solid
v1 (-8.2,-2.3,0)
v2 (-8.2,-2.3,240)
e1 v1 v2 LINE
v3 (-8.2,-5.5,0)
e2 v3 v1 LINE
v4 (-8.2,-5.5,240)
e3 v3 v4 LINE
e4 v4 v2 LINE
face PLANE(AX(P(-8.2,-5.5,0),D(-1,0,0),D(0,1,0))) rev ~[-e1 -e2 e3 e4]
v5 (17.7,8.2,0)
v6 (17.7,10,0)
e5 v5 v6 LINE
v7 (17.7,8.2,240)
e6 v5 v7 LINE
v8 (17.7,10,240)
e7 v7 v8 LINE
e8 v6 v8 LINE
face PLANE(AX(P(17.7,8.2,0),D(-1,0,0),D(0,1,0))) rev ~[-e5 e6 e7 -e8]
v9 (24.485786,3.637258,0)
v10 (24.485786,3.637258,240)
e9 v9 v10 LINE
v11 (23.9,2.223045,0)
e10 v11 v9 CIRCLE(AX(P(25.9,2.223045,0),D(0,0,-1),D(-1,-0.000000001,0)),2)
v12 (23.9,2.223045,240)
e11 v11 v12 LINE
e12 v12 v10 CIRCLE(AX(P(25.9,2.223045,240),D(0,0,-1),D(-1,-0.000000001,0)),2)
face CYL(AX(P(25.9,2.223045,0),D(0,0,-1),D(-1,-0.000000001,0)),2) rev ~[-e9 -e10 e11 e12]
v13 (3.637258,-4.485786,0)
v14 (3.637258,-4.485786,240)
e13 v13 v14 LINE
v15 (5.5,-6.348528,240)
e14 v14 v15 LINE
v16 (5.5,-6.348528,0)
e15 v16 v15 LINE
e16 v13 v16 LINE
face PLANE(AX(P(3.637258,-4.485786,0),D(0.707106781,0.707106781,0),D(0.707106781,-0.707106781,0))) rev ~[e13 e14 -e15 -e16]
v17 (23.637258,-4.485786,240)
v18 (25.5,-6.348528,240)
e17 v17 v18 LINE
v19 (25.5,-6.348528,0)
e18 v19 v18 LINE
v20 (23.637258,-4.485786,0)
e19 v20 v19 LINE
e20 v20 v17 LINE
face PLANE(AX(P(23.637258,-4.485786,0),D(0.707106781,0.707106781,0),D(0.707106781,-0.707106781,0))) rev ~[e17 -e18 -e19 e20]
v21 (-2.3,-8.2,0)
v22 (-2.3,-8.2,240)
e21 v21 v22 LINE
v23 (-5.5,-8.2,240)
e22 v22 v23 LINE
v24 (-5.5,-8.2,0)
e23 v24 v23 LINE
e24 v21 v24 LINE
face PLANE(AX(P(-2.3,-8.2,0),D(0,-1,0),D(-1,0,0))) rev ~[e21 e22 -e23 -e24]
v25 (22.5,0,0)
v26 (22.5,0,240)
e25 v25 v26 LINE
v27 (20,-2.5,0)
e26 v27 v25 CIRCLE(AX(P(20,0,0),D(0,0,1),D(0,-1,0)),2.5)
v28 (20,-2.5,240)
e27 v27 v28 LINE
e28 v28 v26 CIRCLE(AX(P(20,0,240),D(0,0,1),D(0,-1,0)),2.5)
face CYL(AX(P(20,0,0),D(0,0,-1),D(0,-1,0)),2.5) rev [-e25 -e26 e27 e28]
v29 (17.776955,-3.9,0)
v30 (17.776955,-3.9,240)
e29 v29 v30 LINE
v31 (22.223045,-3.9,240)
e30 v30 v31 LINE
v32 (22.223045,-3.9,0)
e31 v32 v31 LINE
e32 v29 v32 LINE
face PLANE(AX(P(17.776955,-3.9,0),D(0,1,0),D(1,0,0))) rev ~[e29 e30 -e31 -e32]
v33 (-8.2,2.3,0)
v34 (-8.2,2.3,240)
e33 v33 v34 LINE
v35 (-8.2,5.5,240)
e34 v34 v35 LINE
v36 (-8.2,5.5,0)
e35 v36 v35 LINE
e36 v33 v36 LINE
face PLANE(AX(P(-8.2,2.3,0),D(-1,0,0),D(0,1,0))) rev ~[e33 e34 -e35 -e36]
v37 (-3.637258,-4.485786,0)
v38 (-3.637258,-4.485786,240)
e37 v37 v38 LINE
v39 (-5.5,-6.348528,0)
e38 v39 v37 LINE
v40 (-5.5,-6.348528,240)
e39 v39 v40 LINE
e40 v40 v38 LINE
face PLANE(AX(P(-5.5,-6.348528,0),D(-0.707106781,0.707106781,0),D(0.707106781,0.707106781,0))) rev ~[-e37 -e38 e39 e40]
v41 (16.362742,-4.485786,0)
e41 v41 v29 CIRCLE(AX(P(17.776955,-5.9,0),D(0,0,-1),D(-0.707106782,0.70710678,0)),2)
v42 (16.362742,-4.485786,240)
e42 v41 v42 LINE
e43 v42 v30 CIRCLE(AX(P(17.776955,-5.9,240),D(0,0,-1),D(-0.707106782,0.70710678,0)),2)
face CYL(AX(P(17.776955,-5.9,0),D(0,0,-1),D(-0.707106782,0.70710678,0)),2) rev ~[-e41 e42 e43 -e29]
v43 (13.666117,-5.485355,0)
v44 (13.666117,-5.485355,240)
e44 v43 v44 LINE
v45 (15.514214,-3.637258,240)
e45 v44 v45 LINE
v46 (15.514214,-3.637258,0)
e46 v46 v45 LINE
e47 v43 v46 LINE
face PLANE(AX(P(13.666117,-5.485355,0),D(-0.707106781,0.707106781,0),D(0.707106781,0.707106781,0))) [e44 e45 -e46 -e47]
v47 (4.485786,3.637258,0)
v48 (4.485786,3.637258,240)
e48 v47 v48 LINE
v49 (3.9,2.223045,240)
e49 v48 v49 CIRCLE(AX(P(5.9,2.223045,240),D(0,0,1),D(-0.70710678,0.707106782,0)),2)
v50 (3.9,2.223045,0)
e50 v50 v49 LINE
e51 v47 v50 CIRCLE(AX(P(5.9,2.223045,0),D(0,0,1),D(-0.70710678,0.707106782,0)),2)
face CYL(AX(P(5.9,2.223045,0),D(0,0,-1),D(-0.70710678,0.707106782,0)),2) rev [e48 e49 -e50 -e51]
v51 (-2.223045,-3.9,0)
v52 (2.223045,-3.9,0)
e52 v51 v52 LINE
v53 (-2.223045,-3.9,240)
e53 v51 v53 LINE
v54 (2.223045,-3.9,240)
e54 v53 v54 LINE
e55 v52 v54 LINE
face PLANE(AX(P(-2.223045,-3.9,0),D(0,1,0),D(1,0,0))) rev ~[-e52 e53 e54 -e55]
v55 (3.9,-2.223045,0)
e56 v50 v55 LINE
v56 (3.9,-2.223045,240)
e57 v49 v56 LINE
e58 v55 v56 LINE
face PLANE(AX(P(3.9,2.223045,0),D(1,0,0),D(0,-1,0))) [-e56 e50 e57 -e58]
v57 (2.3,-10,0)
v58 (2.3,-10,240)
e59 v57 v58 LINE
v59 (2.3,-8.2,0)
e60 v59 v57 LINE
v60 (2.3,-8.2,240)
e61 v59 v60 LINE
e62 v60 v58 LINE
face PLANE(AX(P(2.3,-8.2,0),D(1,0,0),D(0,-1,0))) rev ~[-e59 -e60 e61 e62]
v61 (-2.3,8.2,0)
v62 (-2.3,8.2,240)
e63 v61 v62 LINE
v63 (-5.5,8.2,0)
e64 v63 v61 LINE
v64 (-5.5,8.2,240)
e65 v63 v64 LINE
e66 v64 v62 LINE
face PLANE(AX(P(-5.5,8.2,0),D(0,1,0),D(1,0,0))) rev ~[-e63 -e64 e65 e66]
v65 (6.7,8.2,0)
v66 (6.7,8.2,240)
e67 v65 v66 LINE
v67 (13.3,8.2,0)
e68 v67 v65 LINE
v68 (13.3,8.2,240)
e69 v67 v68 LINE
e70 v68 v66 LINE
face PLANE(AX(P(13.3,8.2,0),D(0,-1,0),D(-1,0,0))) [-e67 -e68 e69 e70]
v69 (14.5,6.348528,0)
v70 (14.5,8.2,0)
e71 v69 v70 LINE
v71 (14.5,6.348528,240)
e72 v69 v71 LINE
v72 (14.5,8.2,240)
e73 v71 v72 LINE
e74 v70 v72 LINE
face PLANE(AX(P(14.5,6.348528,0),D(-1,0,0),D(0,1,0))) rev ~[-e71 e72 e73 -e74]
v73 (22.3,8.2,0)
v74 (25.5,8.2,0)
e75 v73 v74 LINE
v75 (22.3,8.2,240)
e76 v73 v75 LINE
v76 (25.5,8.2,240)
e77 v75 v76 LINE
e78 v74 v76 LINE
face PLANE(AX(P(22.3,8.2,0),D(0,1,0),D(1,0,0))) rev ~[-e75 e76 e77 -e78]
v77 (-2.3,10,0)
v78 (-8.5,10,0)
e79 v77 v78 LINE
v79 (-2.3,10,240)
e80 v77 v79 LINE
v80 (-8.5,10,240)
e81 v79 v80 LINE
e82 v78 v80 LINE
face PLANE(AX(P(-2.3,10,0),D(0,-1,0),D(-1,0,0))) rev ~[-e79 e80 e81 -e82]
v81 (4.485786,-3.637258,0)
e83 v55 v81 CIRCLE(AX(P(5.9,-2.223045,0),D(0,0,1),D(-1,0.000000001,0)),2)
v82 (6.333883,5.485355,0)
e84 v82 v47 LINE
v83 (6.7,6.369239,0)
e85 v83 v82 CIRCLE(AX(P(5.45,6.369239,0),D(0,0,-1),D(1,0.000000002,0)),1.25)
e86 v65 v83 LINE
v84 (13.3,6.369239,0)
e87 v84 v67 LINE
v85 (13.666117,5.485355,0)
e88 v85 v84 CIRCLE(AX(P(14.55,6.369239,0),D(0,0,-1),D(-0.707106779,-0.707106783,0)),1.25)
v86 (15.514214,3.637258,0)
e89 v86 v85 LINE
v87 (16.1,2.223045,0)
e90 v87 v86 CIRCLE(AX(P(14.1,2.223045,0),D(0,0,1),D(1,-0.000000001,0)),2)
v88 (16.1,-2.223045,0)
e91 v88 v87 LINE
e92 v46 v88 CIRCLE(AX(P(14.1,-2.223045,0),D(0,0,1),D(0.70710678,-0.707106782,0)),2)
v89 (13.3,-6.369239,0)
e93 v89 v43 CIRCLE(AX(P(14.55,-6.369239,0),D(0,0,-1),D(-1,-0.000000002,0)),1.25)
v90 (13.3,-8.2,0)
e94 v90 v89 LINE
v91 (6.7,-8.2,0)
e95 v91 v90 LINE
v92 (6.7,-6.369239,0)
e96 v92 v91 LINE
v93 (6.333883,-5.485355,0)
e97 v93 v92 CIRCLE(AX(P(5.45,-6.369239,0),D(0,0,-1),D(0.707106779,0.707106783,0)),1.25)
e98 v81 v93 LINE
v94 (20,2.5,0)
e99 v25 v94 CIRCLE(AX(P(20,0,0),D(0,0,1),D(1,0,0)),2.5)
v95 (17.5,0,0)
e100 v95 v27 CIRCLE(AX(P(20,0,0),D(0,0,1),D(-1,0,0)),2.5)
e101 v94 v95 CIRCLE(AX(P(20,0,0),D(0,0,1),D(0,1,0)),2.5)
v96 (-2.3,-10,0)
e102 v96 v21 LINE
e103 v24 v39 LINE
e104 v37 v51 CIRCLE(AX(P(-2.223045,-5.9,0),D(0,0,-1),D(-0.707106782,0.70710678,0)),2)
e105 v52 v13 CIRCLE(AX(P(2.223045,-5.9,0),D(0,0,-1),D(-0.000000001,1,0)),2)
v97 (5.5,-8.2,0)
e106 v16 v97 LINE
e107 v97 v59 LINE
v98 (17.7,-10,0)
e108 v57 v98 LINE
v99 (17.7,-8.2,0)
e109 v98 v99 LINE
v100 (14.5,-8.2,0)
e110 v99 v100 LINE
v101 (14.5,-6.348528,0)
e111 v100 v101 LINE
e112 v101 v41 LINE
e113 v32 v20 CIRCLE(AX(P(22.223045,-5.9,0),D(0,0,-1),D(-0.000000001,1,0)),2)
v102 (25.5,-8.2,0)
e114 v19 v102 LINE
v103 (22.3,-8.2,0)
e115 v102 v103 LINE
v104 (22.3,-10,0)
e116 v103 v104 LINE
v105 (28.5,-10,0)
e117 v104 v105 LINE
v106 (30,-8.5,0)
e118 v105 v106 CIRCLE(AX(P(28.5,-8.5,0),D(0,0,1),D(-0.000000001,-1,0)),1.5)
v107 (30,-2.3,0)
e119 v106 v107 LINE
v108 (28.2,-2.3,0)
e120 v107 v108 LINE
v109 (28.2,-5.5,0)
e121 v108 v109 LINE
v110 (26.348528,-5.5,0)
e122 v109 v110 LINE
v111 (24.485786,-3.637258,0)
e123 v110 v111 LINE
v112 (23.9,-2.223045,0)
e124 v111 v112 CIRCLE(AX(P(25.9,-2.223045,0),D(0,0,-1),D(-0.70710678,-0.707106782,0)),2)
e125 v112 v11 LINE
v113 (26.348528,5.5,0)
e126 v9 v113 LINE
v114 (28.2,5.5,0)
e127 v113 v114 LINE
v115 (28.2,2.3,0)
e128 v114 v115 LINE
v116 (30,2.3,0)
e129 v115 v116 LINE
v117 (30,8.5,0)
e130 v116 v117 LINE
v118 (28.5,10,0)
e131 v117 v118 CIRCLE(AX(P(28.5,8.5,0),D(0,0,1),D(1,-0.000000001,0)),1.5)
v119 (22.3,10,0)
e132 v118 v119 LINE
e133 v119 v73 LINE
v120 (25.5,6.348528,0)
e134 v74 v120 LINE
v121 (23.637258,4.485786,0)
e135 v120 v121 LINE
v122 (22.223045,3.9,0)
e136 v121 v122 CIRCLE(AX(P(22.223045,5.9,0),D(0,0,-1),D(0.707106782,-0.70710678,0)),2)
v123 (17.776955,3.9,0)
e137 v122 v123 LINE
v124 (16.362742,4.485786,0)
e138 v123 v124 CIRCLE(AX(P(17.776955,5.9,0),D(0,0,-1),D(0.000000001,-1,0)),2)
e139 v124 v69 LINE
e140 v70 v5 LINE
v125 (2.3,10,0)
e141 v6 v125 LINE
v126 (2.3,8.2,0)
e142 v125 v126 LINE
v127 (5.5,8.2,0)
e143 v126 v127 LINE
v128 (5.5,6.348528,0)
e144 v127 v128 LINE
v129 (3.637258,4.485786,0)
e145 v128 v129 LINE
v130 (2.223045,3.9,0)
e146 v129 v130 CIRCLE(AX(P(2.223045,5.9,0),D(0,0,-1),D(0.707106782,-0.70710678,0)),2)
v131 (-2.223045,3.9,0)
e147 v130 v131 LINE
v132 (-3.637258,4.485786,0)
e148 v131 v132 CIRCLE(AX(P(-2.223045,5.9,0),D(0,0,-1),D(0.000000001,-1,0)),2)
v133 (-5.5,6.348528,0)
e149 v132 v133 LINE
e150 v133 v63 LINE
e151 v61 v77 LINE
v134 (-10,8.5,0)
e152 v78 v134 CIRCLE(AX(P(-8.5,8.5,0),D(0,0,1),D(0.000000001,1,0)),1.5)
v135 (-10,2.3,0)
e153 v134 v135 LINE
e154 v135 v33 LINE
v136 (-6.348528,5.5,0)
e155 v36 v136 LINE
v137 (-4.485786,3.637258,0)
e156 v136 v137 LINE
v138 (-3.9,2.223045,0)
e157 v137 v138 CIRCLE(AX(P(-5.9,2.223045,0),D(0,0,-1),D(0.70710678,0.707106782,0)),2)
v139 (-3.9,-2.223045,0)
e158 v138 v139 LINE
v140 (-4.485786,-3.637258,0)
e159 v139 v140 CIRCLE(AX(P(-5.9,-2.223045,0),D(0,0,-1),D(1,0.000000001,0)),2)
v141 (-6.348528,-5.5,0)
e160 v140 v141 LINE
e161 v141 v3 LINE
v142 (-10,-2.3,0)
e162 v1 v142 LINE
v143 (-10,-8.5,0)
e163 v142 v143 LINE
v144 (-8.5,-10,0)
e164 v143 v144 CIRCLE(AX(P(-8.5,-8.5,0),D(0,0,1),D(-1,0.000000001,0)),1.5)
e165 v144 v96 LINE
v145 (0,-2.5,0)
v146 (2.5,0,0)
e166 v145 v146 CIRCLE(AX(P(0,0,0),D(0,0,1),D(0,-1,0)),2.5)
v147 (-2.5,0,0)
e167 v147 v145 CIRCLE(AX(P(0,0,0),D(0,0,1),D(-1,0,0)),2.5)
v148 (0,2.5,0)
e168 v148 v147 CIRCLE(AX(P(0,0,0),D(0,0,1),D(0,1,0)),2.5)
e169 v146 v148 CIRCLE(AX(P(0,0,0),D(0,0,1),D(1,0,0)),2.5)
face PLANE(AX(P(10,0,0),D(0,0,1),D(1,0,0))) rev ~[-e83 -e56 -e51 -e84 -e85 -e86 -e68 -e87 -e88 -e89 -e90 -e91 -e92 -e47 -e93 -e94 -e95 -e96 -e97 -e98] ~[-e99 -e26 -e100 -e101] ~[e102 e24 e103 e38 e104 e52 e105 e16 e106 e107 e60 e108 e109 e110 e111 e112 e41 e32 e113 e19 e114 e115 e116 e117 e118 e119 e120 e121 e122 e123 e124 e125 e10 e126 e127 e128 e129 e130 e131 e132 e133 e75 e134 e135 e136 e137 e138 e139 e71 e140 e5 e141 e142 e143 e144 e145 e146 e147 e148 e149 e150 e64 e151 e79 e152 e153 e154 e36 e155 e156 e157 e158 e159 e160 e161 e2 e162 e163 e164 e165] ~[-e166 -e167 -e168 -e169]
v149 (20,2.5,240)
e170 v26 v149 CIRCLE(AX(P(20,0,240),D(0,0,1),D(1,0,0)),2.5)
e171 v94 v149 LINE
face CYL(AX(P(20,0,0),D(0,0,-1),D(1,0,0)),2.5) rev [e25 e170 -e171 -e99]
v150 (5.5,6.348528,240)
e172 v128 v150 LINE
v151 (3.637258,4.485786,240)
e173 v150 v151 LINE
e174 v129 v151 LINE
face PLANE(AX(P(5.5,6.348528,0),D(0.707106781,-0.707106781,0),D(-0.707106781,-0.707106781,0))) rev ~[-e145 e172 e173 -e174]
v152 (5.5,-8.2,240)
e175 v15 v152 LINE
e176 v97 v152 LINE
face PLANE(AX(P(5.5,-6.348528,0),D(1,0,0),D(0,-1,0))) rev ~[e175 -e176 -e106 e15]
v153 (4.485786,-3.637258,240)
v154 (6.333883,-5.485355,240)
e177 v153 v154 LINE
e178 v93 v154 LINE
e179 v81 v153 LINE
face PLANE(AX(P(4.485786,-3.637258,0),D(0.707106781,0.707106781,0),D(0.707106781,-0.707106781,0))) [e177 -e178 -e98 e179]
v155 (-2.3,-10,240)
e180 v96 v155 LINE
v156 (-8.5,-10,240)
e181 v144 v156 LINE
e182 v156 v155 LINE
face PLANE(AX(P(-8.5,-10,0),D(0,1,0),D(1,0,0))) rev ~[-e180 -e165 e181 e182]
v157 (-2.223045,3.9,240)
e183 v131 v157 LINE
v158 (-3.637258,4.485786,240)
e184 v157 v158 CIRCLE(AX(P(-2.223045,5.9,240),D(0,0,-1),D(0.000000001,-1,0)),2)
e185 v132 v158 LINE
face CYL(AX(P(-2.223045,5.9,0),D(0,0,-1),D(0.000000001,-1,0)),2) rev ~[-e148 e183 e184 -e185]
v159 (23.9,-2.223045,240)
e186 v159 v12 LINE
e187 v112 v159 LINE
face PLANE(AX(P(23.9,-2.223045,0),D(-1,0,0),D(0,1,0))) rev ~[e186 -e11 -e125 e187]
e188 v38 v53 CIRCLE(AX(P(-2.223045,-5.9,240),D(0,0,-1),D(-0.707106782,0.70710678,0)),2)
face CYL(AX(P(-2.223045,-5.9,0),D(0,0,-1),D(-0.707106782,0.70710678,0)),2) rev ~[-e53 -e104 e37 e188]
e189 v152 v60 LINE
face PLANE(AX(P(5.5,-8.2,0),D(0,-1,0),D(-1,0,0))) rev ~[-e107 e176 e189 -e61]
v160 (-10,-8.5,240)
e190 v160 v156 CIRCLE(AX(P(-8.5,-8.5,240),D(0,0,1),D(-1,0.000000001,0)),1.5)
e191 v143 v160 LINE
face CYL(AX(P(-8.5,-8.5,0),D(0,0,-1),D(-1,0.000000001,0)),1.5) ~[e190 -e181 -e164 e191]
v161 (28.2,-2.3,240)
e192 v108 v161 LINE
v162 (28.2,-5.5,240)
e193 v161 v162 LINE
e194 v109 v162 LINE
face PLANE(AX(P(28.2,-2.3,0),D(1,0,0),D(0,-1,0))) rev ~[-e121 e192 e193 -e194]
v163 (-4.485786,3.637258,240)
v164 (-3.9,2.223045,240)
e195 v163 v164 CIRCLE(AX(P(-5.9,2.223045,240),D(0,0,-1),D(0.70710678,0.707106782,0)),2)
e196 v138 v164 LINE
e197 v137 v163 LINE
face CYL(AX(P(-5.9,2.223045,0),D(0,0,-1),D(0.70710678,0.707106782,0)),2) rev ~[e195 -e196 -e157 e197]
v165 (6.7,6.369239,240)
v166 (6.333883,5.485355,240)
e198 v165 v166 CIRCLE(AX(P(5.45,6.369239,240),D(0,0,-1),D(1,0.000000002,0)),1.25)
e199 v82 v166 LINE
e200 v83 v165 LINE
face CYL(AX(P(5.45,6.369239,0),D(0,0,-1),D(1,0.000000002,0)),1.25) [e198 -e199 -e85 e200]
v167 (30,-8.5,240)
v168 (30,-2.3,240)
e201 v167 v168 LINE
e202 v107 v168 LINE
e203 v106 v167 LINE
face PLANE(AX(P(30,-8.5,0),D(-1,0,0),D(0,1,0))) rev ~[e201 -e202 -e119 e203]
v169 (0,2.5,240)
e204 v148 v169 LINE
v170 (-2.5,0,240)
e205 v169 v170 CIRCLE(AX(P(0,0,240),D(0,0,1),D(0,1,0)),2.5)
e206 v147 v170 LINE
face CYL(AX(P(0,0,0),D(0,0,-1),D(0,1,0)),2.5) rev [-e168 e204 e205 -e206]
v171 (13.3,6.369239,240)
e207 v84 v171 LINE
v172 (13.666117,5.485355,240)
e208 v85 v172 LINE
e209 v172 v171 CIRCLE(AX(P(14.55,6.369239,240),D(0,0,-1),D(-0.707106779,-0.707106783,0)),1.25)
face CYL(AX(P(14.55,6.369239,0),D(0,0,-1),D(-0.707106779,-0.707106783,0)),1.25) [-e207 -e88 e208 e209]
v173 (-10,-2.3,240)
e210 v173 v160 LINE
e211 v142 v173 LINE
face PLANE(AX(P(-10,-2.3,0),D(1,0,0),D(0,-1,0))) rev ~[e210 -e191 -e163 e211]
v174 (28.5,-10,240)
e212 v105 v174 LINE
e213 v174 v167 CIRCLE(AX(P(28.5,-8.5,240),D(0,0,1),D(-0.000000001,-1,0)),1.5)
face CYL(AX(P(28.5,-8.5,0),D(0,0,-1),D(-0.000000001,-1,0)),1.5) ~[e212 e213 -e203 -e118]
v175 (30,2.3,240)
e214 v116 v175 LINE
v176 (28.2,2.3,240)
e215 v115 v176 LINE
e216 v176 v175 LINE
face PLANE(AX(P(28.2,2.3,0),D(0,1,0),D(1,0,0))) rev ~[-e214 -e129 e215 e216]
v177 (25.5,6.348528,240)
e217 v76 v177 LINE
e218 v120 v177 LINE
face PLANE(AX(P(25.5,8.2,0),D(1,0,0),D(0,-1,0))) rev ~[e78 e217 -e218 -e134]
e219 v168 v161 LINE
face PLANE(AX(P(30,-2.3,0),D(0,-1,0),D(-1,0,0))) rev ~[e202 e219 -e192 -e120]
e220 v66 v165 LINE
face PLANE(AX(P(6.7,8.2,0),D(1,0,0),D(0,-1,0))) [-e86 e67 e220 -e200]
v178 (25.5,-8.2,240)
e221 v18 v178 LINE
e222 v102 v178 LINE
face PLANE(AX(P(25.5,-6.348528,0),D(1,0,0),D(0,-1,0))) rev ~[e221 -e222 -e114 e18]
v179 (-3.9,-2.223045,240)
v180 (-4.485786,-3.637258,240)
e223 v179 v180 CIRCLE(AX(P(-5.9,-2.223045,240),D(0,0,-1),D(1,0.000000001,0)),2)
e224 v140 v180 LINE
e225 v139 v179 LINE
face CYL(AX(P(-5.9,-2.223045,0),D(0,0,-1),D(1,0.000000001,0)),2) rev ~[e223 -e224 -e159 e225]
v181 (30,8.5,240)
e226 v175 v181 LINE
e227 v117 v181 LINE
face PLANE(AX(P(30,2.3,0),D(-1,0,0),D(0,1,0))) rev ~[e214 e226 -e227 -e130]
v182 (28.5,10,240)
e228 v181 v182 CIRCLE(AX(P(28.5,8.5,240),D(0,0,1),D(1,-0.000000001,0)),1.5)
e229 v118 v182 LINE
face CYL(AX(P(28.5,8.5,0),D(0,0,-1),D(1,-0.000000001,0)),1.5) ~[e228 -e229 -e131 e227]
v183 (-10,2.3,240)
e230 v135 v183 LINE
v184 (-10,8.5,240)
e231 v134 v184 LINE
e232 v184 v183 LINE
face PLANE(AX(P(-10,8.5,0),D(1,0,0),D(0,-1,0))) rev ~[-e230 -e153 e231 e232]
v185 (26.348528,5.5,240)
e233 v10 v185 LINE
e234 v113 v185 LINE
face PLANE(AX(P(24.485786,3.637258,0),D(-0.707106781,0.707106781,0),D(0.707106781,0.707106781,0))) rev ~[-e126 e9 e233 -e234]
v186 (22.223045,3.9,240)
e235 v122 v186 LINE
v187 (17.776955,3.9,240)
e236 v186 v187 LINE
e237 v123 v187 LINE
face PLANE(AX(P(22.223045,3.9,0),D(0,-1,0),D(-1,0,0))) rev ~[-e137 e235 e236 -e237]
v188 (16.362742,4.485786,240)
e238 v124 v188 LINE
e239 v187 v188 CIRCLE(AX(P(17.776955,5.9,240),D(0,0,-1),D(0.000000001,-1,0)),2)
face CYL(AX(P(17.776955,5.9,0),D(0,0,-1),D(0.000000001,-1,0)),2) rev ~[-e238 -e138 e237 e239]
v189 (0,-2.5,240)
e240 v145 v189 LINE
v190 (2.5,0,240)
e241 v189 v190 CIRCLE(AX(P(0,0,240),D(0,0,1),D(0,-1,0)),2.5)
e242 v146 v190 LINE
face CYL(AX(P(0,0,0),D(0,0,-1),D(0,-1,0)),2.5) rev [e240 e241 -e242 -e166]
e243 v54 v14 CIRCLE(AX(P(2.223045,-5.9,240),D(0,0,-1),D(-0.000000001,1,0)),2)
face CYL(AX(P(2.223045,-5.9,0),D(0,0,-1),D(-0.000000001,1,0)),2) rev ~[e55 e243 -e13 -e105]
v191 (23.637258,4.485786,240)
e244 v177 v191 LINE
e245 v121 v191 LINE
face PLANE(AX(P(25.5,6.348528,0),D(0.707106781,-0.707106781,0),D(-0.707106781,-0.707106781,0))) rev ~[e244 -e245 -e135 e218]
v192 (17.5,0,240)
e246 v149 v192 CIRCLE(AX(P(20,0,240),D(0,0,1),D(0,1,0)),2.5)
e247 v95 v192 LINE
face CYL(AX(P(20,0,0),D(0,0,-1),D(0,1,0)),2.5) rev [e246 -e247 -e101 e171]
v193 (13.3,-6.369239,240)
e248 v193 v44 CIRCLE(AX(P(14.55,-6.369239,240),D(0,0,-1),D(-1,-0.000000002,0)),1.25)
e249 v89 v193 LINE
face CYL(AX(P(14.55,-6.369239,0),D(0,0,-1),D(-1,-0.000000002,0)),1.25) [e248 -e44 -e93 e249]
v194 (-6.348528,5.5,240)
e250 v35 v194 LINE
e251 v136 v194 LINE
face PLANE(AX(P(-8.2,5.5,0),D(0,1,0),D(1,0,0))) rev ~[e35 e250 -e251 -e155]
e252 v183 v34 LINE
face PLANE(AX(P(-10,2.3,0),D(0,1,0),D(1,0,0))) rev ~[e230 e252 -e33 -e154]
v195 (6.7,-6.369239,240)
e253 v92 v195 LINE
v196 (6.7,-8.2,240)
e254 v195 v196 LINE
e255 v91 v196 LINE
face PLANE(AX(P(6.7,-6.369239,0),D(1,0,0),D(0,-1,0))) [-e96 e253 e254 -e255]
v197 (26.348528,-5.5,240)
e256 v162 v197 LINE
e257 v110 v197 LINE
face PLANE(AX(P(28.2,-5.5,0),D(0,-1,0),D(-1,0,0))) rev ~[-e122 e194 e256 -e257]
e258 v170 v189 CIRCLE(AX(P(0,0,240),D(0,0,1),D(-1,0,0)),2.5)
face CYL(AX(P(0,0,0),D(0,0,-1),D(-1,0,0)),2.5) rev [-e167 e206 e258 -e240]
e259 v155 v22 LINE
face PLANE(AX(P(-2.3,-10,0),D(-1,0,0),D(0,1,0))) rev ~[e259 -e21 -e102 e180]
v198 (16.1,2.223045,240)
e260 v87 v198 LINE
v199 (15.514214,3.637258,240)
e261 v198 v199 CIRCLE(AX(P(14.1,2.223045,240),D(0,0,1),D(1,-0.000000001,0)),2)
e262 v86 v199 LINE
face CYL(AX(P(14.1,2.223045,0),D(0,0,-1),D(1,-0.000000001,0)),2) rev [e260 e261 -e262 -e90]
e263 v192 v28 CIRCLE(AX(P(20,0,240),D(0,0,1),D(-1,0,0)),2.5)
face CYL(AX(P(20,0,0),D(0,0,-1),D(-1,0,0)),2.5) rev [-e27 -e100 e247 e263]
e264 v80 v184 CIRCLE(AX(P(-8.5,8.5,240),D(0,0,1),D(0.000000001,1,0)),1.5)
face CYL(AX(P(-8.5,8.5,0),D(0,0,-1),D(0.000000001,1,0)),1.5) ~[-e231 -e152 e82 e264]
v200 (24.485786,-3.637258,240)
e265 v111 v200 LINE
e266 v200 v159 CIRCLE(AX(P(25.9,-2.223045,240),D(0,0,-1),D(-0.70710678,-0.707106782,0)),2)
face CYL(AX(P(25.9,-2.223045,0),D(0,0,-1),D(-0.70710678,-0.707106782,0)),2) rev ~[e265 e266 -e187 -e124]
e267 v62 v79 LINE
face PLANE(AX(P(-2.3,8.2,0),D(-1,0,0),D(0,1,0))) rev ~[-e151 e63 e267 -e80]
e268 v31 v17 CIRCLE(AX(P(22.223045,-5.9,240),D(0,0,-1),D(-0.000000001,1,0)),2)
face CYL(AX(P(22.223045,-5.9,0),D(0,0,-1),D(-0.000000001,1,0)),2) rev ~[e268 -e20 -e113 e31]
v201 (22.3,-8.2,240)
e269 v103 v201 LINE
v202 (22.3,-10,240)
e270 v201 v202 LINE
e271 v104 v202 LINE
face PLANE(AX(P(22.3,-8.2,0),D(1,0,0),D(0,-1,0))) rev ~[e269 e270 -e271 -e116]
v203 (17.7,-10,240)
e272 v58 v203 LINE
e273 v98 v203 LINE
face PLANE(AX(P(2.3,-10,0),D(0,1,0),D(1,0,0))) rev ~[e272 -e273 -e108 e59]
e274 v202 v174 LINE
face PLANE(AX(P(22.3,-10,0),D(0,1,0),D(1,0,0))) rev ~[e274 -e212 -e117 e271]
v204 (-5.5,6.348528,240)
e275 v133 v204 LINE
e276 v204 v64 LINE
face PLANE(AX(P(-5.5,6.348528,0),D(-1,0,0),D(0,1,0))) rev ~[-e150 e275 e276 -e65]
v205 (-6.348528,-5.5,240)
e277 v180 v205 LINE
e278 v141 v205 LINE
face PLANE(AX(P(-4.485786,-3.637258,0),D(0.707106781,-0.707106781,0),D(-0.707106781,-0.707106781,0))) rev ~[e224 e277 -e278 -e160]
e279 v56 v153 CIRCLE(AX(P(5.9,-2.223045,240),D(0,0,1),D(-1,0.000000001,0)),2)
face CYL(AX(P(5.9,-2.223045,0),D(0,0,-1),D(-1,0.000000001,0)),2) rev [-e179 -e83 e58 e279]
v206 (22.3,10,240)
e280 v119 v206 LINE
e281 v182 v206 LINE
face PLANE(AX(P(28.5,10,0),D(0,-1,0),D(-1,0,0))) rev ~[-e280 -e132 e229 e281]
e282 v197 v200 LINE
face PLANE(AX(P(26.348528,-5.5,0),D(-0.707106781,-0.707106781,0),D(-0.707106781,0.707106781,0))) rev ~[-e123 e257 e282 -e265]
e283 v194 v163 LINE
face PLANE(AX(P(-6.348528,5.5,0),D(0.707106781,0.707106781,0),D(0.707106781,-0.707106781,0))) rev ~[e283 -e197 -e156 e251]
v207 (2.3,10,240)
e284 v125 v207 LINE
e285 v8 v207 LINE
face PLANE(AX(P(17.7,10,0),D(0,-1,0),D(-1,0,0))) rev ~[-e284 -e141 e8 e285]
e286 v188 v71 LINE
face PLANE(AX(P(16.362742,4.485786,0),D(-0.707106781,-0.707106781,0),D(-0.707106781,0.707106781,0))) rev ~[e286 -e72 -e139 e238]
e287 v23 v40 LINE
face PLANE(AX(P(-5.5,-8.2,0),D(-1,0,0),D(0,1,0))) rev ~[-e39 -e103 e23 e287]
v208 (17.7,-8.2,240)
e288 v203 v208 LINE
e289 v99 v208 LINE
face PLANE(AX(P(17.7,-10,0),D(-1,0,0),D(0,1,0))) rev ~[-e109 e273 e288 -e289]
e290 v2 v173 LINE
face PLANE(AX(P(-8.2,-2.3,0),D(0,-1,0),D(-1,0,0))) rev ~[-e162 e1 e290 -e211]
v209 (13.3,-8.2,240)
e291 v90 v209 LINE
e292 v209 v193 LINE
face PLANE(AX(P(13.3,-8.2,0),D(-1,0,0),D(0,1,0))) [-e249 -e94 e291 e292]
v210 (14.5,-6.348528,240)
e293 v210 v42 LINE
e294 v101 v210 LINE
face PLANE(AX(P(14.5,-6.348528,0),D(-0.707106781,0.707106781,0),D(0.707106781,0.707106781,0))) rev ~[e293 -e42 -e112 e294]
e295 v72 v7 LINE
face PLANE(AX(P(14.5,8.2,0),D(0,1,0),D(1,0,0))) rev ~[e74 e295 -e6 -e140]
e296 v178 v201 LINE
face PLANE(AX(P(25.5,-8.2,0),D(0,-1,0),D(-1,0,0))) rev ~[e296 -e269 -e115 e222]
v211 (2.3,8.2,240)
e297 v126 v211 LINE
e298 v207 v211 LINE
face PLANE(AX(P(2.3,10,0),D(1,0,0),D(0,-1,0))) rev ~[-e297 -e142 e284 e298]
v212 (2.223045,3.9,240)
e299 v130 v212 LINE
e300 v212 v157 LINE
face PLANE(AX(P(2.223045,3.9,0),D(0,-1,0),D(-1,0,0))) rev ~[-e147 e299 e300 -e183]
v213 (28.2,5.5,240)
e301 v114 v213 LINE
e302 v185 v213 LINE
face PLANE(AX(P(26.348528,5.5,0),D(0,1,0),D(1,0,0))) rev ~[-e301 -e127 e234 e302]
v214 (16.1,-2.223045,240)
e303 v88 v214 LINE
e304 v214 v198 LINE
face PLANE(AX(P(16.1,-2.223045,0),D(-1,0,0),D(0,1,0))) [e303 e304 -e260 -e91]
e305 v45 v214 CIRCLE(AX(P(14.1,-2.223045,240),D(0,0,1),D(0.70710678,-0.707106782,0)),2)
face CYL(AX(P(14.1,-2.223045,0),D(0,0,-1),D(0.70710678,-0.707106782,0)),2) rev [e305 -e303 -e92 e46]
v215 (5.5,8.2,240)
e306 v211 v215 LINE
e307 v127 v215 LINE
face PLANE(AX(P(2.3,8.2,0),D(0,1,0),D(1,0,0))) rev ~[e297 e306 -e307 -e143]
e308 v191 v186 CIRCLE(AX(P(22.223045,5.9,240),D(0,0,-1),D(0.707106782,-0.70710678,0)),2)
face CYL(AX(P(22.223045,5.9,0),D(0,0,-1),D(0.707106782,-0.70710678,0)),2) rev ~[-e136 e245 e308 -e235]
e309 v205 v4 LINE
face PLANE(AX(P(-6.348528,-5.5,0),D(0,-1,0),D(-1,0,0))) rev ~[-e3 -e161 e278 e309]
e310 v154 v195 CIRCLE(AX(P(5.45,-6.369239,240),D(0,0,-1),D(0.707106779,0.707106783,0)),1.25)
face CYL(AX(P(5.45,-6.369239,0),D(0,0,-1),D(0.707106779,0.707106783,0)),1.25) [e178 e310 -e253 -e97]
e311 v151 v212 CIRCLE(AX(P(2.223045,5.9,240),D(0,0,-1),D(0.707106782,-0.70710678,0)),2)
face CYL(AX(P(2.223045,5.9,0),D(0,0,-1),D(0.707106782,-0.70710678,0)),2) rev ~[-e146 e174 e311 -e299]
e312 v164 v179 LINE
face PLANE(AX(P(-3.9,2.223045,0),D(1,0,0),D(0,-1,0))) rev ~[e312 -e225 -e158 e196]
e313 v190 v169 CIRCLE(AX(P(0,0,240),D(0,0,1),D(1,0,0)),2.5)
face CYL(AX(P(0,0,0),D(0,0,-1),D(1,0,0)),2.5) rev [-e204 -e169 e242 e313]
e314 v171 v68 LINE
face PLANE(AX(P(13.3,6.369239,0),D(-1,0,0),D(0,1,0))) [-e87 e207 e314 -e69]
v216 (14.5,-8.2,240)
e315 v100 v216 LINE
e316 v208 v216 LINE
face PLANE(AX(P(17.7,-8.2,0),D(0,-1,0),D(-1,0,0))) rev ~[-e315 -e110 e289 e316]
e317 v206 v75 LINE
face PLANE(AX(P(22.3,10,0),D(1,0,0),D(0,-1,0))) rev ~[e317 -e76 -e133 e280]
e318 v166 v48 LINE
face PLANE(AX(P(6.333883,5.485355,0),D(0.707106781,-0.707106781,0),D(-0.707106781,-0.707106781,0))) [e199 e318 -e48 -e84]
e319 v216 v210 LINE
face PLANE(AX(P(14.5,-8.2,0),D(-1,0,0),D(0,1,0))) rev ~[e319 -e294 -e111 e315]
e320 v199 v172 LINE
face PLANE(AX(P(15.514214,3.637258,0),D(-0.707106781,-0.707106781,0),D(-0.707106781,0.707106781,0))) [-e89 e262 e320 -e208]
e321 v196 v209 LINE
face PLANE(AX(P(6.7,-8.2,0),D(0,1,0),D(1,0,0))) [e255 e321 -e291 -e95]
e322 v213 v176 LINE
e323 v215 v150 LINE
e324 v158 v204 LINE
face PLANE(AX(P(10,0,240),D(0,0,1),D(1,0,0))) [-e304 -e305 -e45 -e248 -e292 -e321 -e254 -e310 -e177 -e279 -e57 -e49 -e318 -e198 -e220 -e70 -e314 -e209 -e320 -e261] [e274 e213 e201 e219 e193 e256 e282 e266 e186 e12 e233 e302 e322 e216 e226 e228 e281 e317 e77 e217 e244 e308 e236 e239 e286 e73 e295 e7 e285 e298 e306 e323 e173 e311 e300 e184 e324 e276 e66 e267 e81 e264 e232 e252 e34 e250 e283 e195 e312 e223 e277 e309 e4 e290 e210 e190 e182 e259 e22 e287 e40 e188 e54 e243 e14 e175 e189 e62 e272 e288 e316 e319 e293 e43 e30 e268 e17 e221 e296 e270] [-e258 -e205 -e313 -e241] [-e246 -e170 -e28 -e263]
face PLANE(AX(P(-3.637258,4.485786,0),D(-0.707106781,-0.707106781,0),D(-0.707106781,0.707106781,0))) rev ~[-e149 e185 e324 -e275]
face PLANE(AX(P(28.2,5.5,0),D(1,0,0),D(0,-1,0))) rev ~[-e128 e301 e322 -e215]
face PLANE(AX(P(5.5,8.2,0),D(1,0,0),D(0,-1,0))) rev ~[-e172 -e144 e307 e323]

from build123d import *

# Parameters (mm, degrees)
SALIENTE_EXTRUIR1_DEPTH = 240


with BuildPart() as part:
    # Croquis1 → Saliente-Extruir1 (new body)
    with BuildSketch(Plane.XY):
        with BuildLine():
            Line((-10, 8.5), (-10, 2.3))
            Line((-10, 2.3), (-8.2, 2.3))
            Line((-8.2, 2.3), (-8.2, 5.5))
            Line((-8.2, 5.5), (-6.348528137, 5.5))
            Line((-6.348528137, 5.5), (-4.485786438, 3.6372583))
            ThreePointArc((-4.485786438, 3.6372583), (-4.052240935, 2.988411603), (-3.9, 2.223044738))
            Line((-3.9, 2.223044738), (-3.9, 0))
            Line((-3.9, 0), (-3.9, -2.223044738))
            ThreePointArc((-3.9, -2.223044738), (-4.052240935, -2.988411603), (-4.485786438, -3.6372583))
            Line((-4.485786438, -3.6372583), (-6.348528137, -5.5))
            Line((-6.348528137, -5.5), (-8.2, -5.5))
            Line((-8.2, -5.5), (-8.2, -2.3))
            Line((-8.2, -2.3), (-10, -2.3))
            Line((-10, -2.3), (-10, -8.5))
            ThreePointArc((-10, -8.5), (-9.560660172, -9.560660172), (-8.5, -10))
            Line((-8.5, -10), (-2.3, -10))
            Line((-2.3, -10), (-2.3, -8.2))
            Line((-2.3, -8.2), (-5.5, -8.2))
            Line((-5.5, -8.2), (-5.5, -6.348528137))
            Line((-5.5, -6.348528137), (-3.6372583, -4.485786438))
            ThreePointArc((-3.6372583, -4.485786438), (-2.988411603, -4.052240935), (-2.223044738, -3.9))
            Line((-2.223044738, -3.9), (0, -3.9))
            Line((0, -3.9), (2.223044738, -3.9))
            ThreePointArc((2.223044738, -3.9), (2.988411603, -4.052240935), (3.6372583, -4.485786438))
            Line((3.6372583, -4.485786438), (5.5, -6.348528137))
            Line((5.5, -6.348528137), (5.5, -8.2))
            Line((5.5, -8.2), (2.3, -8.2))
            Line((2.3, -8.2), (2.3, -10))
            Line((2.3, -10), (17.7, -10))
            Line((17.7, -10), (17.7, -8.2))
            Line((17.7, -8.2), (14.5, -8.2))
            Line((14.5, -8.2), (14.5, -6.348528137))
            Line((14.5, -6.348528137), (16.3627417, -4.485786438))
            ThreePointArc((16.3627417, -4.485786438), (17.011588397, -4.052240935), (17.776955262, -3.9))
            Line((17.776955262, -3.9), (20, -3.9))
            Line((20, -3.9), (22.223044738, -3.9))
            ThreePointArc((22.223044738, -3.9), (22.988411603, -4.052240935), (23.6372583, -4.485786438))
            Line((23.6372583, -4.485786438), (25.5, -6.348528137))
            Line((25.5, -6.348528137), (25.5, -8.2))
            Line((25.5, -8.2), (22.3, -8.2))
            Line((22.3, -8.2), (22.3, -10))
            Line((22.3, -10), (28.5, -10))
            ThreePointArc((28.5, -10), (29.560660172, -9.560660172), (30, -8.5))
            Line((30, -8.5), (30, -2.3))
            Line((30, -2.3), (28.2, -2.3))
            Line((28.2, -2.3), (28.2, -5.5))
            Line((28.2, -5.5), (26.348528137, -5.5))
            Line((26.348528137, -5.5), (24.485786438, -3.6372583))
            ThreePointArc((24.485786438, -3.6372583), (24.052240935, -2.988411603), (23.9, -2.223044738))
            Line((23.9, -2.223044738), (23.9, 0))
            Line((23.9, 0), (23.9, 2.223044738))
            ThreePointArc((23.9, 2.223044738), (24.052240935, 2.988411603), (24.485786438, 3.6372583))
            Line((24.485786438, 3.6372583), (26.348528137, 5.5))
            Line((26.348528137, 5.5), (28.2, 5.5))
            Line((28.2, 5.5), (28.2, 2.3))
            Line((28.2, 2.3), (30, 2.3))
            Line((30, 2.3), (30, 8.5))
            ThreePointArc((30, 8.5), (29.560660172, 9.560660172), (28.5, 10))
            Line((28.5, 10), (22.3, 10))
            Line((22.3, 10), (22.3, 8.2))
            Line((22.3, 8.2), (25.5, 8.2))
            Line((25.5, 8.2), (25.5, 6.348528137))
            Line((25.5, 6.348528137), (23.6372583, 4.485786438))
            ThreePointArc((23.6372583, 4.485786438), (22.988411603, 4.052240935), (22.223044738, 3.9))
            Line((22.223044738, 3.9), (20, 3.9))
            Line((20, 3.9), (17.776955262, 3.9))
            ThreePointArc((17.776955262, 3.9), (17.011588397, 4.052240935), (16.3627417, 4.485786438))
            Line((16.3627417, 4.485786438), (14.5, 6.348528137))
            Line((14.5, 6.348528137), (14.5, 8.2))
            Line((14.5, 8.2), (17.7, 8.2))
            Line((17.7, 8.2), (17.7, 10))
            Line((17.7, 10), (2.3, 10))
            Line((2.3, 10), (2.3, 8.2))
            Line((2.3, 8.2), (5.5, 8.2))
            Line((5.5, 8.2), (5.5, 6.348528137))
            Line((5.5, 6.348528137), (3.6372583, 4.485786438))
            ThreePointArc((3.6372583, 4.485786438), (2.988411603, 4.052240935), (2.223044738, 3.9))
            Line((2.223044738, 3.9), (0, 3.9))
            Line((0, 3.9), (-2.223044738, 3.9))
            ThreePointArc((-2.223044738, 3.9), (-2.988411603, 4.052240935), (-3.6372583, 4.485786438))
            Line((-3.6372583, 4.485786438), (-5.5, 6.348528137))
            Line((-5.5, 6.348528137), (-5.5, 8.2))
            Line((-5.5, 8.2), (-2.3, 8.2))
            Line((-2.3, 8.2), (-2.3, 10))
            Line((-2.3, 10), (-8.5, 10))
            ThreePointArc((-8.5, 10), (-9.560660172, 9.560660172), (-10, 8.5))
        make_face()
        with BuildLine():
            Line((3.9, 2.223044738), (3.9, 0))
            Line((3.9, 0), (3.9, -2.223044738))
            ThreePointArc((3.9, -2.223044738), (4.052240935, -2.988411603), (4.485786438, -3.6372583))
            Line((4.485786438, -3.6372583), (6.333883476, -5.485355339))
            ThreePointArc((6.333883476, -5.485355339), (6.604849416, -5.890884525), (6.7, -6.369238816))
            Line((6.7, -6.369238816), (6.7, -8.2))
            Line((6.7, -8.2), (13.3, -8.2))
            Line((13.3, -8.2), (13.3, -6.369238816))
            ThreePointArc((13.3, -6.369238816), (13.395150584, -5.890884525), (13.666116524, -5.485355339))
            Line((13.666116524, -5.485355339), (15.514213562, -3.6372583))
            ThreePointArc((15.514213562, -3.6372583), (15.947759065, -2.988411603), (16.1, -2.223044738))
            Line((16.1, -2.223044738), (16.1, 0))
            Line((16.1, 0), (16.1, 2.223044738))
            ThreePointArc((16.1, 2.223044738), (15.947759065, 2.988411603), (15.514213562, 3.6372583))
            Line((15.514213562, 3.6372583), (13.666116524, 5.485355339))
            ThreePointArc((13.666116524, 5.485355339), (13.395150584, 5.890884525), (13.3, 6.369238816))
            Line((13.3, 6.369238816), (13.3, 8.2))
            Line((13.3, 8.2), (6.7, 8.2))
            Line((6.7, 8.2), (6.7, 6.369238816))
            ThreePointArc((6.7, 6.369238816), (6.604849416, 5.890884525), (6.333883476, 5.485355339))
            Line((6.333883476, 5.485355339), (4.485786438, 3.6372583))
            ThreePointArc((4.485786438, 3.6372583), (4.052240935, 2.988411603), (3.9, 2.223044738))
        make_face(mode=Mode.SUBTRACT)
        with BuildLine():
            ThreePointArc((0, 2.5), (-1.767766953, 1.767766953), (-2.5, 0))
            ThreePointArc((-2.5, 0), (-1.767766953, -1.767766953), (0, -2.5))
            ThreePointArc((0, -2.5), (1.767766953, -1.767766953), (2.5, 0))
            ThreePointArc((2.5, 0), (1.767766953, 1.767766953), (0, 2.5))
        make_face(mode=Mode.SUBTRACT)
        with BuildLine():
            ThreePointArc((20, 2.5), (18.232233047, 1.767766953), (17.5, 0))
            ThreePointArc((17.5, 0), (18.232233047, -1.767766953), (20, -2.5))
            ThreePointArc((20, -2.5), (21.767766953, -1.767766953), (22.5, 0))
            ThreePointArc((22.5, 0), (21.767766953, 1.767766953), (20, 2.5))
        make_face(mode=Mode.SUBTRACT)
    extrude(amount=SALIENTE_EXTRUIR1_DEPTH)


solid = part.part
